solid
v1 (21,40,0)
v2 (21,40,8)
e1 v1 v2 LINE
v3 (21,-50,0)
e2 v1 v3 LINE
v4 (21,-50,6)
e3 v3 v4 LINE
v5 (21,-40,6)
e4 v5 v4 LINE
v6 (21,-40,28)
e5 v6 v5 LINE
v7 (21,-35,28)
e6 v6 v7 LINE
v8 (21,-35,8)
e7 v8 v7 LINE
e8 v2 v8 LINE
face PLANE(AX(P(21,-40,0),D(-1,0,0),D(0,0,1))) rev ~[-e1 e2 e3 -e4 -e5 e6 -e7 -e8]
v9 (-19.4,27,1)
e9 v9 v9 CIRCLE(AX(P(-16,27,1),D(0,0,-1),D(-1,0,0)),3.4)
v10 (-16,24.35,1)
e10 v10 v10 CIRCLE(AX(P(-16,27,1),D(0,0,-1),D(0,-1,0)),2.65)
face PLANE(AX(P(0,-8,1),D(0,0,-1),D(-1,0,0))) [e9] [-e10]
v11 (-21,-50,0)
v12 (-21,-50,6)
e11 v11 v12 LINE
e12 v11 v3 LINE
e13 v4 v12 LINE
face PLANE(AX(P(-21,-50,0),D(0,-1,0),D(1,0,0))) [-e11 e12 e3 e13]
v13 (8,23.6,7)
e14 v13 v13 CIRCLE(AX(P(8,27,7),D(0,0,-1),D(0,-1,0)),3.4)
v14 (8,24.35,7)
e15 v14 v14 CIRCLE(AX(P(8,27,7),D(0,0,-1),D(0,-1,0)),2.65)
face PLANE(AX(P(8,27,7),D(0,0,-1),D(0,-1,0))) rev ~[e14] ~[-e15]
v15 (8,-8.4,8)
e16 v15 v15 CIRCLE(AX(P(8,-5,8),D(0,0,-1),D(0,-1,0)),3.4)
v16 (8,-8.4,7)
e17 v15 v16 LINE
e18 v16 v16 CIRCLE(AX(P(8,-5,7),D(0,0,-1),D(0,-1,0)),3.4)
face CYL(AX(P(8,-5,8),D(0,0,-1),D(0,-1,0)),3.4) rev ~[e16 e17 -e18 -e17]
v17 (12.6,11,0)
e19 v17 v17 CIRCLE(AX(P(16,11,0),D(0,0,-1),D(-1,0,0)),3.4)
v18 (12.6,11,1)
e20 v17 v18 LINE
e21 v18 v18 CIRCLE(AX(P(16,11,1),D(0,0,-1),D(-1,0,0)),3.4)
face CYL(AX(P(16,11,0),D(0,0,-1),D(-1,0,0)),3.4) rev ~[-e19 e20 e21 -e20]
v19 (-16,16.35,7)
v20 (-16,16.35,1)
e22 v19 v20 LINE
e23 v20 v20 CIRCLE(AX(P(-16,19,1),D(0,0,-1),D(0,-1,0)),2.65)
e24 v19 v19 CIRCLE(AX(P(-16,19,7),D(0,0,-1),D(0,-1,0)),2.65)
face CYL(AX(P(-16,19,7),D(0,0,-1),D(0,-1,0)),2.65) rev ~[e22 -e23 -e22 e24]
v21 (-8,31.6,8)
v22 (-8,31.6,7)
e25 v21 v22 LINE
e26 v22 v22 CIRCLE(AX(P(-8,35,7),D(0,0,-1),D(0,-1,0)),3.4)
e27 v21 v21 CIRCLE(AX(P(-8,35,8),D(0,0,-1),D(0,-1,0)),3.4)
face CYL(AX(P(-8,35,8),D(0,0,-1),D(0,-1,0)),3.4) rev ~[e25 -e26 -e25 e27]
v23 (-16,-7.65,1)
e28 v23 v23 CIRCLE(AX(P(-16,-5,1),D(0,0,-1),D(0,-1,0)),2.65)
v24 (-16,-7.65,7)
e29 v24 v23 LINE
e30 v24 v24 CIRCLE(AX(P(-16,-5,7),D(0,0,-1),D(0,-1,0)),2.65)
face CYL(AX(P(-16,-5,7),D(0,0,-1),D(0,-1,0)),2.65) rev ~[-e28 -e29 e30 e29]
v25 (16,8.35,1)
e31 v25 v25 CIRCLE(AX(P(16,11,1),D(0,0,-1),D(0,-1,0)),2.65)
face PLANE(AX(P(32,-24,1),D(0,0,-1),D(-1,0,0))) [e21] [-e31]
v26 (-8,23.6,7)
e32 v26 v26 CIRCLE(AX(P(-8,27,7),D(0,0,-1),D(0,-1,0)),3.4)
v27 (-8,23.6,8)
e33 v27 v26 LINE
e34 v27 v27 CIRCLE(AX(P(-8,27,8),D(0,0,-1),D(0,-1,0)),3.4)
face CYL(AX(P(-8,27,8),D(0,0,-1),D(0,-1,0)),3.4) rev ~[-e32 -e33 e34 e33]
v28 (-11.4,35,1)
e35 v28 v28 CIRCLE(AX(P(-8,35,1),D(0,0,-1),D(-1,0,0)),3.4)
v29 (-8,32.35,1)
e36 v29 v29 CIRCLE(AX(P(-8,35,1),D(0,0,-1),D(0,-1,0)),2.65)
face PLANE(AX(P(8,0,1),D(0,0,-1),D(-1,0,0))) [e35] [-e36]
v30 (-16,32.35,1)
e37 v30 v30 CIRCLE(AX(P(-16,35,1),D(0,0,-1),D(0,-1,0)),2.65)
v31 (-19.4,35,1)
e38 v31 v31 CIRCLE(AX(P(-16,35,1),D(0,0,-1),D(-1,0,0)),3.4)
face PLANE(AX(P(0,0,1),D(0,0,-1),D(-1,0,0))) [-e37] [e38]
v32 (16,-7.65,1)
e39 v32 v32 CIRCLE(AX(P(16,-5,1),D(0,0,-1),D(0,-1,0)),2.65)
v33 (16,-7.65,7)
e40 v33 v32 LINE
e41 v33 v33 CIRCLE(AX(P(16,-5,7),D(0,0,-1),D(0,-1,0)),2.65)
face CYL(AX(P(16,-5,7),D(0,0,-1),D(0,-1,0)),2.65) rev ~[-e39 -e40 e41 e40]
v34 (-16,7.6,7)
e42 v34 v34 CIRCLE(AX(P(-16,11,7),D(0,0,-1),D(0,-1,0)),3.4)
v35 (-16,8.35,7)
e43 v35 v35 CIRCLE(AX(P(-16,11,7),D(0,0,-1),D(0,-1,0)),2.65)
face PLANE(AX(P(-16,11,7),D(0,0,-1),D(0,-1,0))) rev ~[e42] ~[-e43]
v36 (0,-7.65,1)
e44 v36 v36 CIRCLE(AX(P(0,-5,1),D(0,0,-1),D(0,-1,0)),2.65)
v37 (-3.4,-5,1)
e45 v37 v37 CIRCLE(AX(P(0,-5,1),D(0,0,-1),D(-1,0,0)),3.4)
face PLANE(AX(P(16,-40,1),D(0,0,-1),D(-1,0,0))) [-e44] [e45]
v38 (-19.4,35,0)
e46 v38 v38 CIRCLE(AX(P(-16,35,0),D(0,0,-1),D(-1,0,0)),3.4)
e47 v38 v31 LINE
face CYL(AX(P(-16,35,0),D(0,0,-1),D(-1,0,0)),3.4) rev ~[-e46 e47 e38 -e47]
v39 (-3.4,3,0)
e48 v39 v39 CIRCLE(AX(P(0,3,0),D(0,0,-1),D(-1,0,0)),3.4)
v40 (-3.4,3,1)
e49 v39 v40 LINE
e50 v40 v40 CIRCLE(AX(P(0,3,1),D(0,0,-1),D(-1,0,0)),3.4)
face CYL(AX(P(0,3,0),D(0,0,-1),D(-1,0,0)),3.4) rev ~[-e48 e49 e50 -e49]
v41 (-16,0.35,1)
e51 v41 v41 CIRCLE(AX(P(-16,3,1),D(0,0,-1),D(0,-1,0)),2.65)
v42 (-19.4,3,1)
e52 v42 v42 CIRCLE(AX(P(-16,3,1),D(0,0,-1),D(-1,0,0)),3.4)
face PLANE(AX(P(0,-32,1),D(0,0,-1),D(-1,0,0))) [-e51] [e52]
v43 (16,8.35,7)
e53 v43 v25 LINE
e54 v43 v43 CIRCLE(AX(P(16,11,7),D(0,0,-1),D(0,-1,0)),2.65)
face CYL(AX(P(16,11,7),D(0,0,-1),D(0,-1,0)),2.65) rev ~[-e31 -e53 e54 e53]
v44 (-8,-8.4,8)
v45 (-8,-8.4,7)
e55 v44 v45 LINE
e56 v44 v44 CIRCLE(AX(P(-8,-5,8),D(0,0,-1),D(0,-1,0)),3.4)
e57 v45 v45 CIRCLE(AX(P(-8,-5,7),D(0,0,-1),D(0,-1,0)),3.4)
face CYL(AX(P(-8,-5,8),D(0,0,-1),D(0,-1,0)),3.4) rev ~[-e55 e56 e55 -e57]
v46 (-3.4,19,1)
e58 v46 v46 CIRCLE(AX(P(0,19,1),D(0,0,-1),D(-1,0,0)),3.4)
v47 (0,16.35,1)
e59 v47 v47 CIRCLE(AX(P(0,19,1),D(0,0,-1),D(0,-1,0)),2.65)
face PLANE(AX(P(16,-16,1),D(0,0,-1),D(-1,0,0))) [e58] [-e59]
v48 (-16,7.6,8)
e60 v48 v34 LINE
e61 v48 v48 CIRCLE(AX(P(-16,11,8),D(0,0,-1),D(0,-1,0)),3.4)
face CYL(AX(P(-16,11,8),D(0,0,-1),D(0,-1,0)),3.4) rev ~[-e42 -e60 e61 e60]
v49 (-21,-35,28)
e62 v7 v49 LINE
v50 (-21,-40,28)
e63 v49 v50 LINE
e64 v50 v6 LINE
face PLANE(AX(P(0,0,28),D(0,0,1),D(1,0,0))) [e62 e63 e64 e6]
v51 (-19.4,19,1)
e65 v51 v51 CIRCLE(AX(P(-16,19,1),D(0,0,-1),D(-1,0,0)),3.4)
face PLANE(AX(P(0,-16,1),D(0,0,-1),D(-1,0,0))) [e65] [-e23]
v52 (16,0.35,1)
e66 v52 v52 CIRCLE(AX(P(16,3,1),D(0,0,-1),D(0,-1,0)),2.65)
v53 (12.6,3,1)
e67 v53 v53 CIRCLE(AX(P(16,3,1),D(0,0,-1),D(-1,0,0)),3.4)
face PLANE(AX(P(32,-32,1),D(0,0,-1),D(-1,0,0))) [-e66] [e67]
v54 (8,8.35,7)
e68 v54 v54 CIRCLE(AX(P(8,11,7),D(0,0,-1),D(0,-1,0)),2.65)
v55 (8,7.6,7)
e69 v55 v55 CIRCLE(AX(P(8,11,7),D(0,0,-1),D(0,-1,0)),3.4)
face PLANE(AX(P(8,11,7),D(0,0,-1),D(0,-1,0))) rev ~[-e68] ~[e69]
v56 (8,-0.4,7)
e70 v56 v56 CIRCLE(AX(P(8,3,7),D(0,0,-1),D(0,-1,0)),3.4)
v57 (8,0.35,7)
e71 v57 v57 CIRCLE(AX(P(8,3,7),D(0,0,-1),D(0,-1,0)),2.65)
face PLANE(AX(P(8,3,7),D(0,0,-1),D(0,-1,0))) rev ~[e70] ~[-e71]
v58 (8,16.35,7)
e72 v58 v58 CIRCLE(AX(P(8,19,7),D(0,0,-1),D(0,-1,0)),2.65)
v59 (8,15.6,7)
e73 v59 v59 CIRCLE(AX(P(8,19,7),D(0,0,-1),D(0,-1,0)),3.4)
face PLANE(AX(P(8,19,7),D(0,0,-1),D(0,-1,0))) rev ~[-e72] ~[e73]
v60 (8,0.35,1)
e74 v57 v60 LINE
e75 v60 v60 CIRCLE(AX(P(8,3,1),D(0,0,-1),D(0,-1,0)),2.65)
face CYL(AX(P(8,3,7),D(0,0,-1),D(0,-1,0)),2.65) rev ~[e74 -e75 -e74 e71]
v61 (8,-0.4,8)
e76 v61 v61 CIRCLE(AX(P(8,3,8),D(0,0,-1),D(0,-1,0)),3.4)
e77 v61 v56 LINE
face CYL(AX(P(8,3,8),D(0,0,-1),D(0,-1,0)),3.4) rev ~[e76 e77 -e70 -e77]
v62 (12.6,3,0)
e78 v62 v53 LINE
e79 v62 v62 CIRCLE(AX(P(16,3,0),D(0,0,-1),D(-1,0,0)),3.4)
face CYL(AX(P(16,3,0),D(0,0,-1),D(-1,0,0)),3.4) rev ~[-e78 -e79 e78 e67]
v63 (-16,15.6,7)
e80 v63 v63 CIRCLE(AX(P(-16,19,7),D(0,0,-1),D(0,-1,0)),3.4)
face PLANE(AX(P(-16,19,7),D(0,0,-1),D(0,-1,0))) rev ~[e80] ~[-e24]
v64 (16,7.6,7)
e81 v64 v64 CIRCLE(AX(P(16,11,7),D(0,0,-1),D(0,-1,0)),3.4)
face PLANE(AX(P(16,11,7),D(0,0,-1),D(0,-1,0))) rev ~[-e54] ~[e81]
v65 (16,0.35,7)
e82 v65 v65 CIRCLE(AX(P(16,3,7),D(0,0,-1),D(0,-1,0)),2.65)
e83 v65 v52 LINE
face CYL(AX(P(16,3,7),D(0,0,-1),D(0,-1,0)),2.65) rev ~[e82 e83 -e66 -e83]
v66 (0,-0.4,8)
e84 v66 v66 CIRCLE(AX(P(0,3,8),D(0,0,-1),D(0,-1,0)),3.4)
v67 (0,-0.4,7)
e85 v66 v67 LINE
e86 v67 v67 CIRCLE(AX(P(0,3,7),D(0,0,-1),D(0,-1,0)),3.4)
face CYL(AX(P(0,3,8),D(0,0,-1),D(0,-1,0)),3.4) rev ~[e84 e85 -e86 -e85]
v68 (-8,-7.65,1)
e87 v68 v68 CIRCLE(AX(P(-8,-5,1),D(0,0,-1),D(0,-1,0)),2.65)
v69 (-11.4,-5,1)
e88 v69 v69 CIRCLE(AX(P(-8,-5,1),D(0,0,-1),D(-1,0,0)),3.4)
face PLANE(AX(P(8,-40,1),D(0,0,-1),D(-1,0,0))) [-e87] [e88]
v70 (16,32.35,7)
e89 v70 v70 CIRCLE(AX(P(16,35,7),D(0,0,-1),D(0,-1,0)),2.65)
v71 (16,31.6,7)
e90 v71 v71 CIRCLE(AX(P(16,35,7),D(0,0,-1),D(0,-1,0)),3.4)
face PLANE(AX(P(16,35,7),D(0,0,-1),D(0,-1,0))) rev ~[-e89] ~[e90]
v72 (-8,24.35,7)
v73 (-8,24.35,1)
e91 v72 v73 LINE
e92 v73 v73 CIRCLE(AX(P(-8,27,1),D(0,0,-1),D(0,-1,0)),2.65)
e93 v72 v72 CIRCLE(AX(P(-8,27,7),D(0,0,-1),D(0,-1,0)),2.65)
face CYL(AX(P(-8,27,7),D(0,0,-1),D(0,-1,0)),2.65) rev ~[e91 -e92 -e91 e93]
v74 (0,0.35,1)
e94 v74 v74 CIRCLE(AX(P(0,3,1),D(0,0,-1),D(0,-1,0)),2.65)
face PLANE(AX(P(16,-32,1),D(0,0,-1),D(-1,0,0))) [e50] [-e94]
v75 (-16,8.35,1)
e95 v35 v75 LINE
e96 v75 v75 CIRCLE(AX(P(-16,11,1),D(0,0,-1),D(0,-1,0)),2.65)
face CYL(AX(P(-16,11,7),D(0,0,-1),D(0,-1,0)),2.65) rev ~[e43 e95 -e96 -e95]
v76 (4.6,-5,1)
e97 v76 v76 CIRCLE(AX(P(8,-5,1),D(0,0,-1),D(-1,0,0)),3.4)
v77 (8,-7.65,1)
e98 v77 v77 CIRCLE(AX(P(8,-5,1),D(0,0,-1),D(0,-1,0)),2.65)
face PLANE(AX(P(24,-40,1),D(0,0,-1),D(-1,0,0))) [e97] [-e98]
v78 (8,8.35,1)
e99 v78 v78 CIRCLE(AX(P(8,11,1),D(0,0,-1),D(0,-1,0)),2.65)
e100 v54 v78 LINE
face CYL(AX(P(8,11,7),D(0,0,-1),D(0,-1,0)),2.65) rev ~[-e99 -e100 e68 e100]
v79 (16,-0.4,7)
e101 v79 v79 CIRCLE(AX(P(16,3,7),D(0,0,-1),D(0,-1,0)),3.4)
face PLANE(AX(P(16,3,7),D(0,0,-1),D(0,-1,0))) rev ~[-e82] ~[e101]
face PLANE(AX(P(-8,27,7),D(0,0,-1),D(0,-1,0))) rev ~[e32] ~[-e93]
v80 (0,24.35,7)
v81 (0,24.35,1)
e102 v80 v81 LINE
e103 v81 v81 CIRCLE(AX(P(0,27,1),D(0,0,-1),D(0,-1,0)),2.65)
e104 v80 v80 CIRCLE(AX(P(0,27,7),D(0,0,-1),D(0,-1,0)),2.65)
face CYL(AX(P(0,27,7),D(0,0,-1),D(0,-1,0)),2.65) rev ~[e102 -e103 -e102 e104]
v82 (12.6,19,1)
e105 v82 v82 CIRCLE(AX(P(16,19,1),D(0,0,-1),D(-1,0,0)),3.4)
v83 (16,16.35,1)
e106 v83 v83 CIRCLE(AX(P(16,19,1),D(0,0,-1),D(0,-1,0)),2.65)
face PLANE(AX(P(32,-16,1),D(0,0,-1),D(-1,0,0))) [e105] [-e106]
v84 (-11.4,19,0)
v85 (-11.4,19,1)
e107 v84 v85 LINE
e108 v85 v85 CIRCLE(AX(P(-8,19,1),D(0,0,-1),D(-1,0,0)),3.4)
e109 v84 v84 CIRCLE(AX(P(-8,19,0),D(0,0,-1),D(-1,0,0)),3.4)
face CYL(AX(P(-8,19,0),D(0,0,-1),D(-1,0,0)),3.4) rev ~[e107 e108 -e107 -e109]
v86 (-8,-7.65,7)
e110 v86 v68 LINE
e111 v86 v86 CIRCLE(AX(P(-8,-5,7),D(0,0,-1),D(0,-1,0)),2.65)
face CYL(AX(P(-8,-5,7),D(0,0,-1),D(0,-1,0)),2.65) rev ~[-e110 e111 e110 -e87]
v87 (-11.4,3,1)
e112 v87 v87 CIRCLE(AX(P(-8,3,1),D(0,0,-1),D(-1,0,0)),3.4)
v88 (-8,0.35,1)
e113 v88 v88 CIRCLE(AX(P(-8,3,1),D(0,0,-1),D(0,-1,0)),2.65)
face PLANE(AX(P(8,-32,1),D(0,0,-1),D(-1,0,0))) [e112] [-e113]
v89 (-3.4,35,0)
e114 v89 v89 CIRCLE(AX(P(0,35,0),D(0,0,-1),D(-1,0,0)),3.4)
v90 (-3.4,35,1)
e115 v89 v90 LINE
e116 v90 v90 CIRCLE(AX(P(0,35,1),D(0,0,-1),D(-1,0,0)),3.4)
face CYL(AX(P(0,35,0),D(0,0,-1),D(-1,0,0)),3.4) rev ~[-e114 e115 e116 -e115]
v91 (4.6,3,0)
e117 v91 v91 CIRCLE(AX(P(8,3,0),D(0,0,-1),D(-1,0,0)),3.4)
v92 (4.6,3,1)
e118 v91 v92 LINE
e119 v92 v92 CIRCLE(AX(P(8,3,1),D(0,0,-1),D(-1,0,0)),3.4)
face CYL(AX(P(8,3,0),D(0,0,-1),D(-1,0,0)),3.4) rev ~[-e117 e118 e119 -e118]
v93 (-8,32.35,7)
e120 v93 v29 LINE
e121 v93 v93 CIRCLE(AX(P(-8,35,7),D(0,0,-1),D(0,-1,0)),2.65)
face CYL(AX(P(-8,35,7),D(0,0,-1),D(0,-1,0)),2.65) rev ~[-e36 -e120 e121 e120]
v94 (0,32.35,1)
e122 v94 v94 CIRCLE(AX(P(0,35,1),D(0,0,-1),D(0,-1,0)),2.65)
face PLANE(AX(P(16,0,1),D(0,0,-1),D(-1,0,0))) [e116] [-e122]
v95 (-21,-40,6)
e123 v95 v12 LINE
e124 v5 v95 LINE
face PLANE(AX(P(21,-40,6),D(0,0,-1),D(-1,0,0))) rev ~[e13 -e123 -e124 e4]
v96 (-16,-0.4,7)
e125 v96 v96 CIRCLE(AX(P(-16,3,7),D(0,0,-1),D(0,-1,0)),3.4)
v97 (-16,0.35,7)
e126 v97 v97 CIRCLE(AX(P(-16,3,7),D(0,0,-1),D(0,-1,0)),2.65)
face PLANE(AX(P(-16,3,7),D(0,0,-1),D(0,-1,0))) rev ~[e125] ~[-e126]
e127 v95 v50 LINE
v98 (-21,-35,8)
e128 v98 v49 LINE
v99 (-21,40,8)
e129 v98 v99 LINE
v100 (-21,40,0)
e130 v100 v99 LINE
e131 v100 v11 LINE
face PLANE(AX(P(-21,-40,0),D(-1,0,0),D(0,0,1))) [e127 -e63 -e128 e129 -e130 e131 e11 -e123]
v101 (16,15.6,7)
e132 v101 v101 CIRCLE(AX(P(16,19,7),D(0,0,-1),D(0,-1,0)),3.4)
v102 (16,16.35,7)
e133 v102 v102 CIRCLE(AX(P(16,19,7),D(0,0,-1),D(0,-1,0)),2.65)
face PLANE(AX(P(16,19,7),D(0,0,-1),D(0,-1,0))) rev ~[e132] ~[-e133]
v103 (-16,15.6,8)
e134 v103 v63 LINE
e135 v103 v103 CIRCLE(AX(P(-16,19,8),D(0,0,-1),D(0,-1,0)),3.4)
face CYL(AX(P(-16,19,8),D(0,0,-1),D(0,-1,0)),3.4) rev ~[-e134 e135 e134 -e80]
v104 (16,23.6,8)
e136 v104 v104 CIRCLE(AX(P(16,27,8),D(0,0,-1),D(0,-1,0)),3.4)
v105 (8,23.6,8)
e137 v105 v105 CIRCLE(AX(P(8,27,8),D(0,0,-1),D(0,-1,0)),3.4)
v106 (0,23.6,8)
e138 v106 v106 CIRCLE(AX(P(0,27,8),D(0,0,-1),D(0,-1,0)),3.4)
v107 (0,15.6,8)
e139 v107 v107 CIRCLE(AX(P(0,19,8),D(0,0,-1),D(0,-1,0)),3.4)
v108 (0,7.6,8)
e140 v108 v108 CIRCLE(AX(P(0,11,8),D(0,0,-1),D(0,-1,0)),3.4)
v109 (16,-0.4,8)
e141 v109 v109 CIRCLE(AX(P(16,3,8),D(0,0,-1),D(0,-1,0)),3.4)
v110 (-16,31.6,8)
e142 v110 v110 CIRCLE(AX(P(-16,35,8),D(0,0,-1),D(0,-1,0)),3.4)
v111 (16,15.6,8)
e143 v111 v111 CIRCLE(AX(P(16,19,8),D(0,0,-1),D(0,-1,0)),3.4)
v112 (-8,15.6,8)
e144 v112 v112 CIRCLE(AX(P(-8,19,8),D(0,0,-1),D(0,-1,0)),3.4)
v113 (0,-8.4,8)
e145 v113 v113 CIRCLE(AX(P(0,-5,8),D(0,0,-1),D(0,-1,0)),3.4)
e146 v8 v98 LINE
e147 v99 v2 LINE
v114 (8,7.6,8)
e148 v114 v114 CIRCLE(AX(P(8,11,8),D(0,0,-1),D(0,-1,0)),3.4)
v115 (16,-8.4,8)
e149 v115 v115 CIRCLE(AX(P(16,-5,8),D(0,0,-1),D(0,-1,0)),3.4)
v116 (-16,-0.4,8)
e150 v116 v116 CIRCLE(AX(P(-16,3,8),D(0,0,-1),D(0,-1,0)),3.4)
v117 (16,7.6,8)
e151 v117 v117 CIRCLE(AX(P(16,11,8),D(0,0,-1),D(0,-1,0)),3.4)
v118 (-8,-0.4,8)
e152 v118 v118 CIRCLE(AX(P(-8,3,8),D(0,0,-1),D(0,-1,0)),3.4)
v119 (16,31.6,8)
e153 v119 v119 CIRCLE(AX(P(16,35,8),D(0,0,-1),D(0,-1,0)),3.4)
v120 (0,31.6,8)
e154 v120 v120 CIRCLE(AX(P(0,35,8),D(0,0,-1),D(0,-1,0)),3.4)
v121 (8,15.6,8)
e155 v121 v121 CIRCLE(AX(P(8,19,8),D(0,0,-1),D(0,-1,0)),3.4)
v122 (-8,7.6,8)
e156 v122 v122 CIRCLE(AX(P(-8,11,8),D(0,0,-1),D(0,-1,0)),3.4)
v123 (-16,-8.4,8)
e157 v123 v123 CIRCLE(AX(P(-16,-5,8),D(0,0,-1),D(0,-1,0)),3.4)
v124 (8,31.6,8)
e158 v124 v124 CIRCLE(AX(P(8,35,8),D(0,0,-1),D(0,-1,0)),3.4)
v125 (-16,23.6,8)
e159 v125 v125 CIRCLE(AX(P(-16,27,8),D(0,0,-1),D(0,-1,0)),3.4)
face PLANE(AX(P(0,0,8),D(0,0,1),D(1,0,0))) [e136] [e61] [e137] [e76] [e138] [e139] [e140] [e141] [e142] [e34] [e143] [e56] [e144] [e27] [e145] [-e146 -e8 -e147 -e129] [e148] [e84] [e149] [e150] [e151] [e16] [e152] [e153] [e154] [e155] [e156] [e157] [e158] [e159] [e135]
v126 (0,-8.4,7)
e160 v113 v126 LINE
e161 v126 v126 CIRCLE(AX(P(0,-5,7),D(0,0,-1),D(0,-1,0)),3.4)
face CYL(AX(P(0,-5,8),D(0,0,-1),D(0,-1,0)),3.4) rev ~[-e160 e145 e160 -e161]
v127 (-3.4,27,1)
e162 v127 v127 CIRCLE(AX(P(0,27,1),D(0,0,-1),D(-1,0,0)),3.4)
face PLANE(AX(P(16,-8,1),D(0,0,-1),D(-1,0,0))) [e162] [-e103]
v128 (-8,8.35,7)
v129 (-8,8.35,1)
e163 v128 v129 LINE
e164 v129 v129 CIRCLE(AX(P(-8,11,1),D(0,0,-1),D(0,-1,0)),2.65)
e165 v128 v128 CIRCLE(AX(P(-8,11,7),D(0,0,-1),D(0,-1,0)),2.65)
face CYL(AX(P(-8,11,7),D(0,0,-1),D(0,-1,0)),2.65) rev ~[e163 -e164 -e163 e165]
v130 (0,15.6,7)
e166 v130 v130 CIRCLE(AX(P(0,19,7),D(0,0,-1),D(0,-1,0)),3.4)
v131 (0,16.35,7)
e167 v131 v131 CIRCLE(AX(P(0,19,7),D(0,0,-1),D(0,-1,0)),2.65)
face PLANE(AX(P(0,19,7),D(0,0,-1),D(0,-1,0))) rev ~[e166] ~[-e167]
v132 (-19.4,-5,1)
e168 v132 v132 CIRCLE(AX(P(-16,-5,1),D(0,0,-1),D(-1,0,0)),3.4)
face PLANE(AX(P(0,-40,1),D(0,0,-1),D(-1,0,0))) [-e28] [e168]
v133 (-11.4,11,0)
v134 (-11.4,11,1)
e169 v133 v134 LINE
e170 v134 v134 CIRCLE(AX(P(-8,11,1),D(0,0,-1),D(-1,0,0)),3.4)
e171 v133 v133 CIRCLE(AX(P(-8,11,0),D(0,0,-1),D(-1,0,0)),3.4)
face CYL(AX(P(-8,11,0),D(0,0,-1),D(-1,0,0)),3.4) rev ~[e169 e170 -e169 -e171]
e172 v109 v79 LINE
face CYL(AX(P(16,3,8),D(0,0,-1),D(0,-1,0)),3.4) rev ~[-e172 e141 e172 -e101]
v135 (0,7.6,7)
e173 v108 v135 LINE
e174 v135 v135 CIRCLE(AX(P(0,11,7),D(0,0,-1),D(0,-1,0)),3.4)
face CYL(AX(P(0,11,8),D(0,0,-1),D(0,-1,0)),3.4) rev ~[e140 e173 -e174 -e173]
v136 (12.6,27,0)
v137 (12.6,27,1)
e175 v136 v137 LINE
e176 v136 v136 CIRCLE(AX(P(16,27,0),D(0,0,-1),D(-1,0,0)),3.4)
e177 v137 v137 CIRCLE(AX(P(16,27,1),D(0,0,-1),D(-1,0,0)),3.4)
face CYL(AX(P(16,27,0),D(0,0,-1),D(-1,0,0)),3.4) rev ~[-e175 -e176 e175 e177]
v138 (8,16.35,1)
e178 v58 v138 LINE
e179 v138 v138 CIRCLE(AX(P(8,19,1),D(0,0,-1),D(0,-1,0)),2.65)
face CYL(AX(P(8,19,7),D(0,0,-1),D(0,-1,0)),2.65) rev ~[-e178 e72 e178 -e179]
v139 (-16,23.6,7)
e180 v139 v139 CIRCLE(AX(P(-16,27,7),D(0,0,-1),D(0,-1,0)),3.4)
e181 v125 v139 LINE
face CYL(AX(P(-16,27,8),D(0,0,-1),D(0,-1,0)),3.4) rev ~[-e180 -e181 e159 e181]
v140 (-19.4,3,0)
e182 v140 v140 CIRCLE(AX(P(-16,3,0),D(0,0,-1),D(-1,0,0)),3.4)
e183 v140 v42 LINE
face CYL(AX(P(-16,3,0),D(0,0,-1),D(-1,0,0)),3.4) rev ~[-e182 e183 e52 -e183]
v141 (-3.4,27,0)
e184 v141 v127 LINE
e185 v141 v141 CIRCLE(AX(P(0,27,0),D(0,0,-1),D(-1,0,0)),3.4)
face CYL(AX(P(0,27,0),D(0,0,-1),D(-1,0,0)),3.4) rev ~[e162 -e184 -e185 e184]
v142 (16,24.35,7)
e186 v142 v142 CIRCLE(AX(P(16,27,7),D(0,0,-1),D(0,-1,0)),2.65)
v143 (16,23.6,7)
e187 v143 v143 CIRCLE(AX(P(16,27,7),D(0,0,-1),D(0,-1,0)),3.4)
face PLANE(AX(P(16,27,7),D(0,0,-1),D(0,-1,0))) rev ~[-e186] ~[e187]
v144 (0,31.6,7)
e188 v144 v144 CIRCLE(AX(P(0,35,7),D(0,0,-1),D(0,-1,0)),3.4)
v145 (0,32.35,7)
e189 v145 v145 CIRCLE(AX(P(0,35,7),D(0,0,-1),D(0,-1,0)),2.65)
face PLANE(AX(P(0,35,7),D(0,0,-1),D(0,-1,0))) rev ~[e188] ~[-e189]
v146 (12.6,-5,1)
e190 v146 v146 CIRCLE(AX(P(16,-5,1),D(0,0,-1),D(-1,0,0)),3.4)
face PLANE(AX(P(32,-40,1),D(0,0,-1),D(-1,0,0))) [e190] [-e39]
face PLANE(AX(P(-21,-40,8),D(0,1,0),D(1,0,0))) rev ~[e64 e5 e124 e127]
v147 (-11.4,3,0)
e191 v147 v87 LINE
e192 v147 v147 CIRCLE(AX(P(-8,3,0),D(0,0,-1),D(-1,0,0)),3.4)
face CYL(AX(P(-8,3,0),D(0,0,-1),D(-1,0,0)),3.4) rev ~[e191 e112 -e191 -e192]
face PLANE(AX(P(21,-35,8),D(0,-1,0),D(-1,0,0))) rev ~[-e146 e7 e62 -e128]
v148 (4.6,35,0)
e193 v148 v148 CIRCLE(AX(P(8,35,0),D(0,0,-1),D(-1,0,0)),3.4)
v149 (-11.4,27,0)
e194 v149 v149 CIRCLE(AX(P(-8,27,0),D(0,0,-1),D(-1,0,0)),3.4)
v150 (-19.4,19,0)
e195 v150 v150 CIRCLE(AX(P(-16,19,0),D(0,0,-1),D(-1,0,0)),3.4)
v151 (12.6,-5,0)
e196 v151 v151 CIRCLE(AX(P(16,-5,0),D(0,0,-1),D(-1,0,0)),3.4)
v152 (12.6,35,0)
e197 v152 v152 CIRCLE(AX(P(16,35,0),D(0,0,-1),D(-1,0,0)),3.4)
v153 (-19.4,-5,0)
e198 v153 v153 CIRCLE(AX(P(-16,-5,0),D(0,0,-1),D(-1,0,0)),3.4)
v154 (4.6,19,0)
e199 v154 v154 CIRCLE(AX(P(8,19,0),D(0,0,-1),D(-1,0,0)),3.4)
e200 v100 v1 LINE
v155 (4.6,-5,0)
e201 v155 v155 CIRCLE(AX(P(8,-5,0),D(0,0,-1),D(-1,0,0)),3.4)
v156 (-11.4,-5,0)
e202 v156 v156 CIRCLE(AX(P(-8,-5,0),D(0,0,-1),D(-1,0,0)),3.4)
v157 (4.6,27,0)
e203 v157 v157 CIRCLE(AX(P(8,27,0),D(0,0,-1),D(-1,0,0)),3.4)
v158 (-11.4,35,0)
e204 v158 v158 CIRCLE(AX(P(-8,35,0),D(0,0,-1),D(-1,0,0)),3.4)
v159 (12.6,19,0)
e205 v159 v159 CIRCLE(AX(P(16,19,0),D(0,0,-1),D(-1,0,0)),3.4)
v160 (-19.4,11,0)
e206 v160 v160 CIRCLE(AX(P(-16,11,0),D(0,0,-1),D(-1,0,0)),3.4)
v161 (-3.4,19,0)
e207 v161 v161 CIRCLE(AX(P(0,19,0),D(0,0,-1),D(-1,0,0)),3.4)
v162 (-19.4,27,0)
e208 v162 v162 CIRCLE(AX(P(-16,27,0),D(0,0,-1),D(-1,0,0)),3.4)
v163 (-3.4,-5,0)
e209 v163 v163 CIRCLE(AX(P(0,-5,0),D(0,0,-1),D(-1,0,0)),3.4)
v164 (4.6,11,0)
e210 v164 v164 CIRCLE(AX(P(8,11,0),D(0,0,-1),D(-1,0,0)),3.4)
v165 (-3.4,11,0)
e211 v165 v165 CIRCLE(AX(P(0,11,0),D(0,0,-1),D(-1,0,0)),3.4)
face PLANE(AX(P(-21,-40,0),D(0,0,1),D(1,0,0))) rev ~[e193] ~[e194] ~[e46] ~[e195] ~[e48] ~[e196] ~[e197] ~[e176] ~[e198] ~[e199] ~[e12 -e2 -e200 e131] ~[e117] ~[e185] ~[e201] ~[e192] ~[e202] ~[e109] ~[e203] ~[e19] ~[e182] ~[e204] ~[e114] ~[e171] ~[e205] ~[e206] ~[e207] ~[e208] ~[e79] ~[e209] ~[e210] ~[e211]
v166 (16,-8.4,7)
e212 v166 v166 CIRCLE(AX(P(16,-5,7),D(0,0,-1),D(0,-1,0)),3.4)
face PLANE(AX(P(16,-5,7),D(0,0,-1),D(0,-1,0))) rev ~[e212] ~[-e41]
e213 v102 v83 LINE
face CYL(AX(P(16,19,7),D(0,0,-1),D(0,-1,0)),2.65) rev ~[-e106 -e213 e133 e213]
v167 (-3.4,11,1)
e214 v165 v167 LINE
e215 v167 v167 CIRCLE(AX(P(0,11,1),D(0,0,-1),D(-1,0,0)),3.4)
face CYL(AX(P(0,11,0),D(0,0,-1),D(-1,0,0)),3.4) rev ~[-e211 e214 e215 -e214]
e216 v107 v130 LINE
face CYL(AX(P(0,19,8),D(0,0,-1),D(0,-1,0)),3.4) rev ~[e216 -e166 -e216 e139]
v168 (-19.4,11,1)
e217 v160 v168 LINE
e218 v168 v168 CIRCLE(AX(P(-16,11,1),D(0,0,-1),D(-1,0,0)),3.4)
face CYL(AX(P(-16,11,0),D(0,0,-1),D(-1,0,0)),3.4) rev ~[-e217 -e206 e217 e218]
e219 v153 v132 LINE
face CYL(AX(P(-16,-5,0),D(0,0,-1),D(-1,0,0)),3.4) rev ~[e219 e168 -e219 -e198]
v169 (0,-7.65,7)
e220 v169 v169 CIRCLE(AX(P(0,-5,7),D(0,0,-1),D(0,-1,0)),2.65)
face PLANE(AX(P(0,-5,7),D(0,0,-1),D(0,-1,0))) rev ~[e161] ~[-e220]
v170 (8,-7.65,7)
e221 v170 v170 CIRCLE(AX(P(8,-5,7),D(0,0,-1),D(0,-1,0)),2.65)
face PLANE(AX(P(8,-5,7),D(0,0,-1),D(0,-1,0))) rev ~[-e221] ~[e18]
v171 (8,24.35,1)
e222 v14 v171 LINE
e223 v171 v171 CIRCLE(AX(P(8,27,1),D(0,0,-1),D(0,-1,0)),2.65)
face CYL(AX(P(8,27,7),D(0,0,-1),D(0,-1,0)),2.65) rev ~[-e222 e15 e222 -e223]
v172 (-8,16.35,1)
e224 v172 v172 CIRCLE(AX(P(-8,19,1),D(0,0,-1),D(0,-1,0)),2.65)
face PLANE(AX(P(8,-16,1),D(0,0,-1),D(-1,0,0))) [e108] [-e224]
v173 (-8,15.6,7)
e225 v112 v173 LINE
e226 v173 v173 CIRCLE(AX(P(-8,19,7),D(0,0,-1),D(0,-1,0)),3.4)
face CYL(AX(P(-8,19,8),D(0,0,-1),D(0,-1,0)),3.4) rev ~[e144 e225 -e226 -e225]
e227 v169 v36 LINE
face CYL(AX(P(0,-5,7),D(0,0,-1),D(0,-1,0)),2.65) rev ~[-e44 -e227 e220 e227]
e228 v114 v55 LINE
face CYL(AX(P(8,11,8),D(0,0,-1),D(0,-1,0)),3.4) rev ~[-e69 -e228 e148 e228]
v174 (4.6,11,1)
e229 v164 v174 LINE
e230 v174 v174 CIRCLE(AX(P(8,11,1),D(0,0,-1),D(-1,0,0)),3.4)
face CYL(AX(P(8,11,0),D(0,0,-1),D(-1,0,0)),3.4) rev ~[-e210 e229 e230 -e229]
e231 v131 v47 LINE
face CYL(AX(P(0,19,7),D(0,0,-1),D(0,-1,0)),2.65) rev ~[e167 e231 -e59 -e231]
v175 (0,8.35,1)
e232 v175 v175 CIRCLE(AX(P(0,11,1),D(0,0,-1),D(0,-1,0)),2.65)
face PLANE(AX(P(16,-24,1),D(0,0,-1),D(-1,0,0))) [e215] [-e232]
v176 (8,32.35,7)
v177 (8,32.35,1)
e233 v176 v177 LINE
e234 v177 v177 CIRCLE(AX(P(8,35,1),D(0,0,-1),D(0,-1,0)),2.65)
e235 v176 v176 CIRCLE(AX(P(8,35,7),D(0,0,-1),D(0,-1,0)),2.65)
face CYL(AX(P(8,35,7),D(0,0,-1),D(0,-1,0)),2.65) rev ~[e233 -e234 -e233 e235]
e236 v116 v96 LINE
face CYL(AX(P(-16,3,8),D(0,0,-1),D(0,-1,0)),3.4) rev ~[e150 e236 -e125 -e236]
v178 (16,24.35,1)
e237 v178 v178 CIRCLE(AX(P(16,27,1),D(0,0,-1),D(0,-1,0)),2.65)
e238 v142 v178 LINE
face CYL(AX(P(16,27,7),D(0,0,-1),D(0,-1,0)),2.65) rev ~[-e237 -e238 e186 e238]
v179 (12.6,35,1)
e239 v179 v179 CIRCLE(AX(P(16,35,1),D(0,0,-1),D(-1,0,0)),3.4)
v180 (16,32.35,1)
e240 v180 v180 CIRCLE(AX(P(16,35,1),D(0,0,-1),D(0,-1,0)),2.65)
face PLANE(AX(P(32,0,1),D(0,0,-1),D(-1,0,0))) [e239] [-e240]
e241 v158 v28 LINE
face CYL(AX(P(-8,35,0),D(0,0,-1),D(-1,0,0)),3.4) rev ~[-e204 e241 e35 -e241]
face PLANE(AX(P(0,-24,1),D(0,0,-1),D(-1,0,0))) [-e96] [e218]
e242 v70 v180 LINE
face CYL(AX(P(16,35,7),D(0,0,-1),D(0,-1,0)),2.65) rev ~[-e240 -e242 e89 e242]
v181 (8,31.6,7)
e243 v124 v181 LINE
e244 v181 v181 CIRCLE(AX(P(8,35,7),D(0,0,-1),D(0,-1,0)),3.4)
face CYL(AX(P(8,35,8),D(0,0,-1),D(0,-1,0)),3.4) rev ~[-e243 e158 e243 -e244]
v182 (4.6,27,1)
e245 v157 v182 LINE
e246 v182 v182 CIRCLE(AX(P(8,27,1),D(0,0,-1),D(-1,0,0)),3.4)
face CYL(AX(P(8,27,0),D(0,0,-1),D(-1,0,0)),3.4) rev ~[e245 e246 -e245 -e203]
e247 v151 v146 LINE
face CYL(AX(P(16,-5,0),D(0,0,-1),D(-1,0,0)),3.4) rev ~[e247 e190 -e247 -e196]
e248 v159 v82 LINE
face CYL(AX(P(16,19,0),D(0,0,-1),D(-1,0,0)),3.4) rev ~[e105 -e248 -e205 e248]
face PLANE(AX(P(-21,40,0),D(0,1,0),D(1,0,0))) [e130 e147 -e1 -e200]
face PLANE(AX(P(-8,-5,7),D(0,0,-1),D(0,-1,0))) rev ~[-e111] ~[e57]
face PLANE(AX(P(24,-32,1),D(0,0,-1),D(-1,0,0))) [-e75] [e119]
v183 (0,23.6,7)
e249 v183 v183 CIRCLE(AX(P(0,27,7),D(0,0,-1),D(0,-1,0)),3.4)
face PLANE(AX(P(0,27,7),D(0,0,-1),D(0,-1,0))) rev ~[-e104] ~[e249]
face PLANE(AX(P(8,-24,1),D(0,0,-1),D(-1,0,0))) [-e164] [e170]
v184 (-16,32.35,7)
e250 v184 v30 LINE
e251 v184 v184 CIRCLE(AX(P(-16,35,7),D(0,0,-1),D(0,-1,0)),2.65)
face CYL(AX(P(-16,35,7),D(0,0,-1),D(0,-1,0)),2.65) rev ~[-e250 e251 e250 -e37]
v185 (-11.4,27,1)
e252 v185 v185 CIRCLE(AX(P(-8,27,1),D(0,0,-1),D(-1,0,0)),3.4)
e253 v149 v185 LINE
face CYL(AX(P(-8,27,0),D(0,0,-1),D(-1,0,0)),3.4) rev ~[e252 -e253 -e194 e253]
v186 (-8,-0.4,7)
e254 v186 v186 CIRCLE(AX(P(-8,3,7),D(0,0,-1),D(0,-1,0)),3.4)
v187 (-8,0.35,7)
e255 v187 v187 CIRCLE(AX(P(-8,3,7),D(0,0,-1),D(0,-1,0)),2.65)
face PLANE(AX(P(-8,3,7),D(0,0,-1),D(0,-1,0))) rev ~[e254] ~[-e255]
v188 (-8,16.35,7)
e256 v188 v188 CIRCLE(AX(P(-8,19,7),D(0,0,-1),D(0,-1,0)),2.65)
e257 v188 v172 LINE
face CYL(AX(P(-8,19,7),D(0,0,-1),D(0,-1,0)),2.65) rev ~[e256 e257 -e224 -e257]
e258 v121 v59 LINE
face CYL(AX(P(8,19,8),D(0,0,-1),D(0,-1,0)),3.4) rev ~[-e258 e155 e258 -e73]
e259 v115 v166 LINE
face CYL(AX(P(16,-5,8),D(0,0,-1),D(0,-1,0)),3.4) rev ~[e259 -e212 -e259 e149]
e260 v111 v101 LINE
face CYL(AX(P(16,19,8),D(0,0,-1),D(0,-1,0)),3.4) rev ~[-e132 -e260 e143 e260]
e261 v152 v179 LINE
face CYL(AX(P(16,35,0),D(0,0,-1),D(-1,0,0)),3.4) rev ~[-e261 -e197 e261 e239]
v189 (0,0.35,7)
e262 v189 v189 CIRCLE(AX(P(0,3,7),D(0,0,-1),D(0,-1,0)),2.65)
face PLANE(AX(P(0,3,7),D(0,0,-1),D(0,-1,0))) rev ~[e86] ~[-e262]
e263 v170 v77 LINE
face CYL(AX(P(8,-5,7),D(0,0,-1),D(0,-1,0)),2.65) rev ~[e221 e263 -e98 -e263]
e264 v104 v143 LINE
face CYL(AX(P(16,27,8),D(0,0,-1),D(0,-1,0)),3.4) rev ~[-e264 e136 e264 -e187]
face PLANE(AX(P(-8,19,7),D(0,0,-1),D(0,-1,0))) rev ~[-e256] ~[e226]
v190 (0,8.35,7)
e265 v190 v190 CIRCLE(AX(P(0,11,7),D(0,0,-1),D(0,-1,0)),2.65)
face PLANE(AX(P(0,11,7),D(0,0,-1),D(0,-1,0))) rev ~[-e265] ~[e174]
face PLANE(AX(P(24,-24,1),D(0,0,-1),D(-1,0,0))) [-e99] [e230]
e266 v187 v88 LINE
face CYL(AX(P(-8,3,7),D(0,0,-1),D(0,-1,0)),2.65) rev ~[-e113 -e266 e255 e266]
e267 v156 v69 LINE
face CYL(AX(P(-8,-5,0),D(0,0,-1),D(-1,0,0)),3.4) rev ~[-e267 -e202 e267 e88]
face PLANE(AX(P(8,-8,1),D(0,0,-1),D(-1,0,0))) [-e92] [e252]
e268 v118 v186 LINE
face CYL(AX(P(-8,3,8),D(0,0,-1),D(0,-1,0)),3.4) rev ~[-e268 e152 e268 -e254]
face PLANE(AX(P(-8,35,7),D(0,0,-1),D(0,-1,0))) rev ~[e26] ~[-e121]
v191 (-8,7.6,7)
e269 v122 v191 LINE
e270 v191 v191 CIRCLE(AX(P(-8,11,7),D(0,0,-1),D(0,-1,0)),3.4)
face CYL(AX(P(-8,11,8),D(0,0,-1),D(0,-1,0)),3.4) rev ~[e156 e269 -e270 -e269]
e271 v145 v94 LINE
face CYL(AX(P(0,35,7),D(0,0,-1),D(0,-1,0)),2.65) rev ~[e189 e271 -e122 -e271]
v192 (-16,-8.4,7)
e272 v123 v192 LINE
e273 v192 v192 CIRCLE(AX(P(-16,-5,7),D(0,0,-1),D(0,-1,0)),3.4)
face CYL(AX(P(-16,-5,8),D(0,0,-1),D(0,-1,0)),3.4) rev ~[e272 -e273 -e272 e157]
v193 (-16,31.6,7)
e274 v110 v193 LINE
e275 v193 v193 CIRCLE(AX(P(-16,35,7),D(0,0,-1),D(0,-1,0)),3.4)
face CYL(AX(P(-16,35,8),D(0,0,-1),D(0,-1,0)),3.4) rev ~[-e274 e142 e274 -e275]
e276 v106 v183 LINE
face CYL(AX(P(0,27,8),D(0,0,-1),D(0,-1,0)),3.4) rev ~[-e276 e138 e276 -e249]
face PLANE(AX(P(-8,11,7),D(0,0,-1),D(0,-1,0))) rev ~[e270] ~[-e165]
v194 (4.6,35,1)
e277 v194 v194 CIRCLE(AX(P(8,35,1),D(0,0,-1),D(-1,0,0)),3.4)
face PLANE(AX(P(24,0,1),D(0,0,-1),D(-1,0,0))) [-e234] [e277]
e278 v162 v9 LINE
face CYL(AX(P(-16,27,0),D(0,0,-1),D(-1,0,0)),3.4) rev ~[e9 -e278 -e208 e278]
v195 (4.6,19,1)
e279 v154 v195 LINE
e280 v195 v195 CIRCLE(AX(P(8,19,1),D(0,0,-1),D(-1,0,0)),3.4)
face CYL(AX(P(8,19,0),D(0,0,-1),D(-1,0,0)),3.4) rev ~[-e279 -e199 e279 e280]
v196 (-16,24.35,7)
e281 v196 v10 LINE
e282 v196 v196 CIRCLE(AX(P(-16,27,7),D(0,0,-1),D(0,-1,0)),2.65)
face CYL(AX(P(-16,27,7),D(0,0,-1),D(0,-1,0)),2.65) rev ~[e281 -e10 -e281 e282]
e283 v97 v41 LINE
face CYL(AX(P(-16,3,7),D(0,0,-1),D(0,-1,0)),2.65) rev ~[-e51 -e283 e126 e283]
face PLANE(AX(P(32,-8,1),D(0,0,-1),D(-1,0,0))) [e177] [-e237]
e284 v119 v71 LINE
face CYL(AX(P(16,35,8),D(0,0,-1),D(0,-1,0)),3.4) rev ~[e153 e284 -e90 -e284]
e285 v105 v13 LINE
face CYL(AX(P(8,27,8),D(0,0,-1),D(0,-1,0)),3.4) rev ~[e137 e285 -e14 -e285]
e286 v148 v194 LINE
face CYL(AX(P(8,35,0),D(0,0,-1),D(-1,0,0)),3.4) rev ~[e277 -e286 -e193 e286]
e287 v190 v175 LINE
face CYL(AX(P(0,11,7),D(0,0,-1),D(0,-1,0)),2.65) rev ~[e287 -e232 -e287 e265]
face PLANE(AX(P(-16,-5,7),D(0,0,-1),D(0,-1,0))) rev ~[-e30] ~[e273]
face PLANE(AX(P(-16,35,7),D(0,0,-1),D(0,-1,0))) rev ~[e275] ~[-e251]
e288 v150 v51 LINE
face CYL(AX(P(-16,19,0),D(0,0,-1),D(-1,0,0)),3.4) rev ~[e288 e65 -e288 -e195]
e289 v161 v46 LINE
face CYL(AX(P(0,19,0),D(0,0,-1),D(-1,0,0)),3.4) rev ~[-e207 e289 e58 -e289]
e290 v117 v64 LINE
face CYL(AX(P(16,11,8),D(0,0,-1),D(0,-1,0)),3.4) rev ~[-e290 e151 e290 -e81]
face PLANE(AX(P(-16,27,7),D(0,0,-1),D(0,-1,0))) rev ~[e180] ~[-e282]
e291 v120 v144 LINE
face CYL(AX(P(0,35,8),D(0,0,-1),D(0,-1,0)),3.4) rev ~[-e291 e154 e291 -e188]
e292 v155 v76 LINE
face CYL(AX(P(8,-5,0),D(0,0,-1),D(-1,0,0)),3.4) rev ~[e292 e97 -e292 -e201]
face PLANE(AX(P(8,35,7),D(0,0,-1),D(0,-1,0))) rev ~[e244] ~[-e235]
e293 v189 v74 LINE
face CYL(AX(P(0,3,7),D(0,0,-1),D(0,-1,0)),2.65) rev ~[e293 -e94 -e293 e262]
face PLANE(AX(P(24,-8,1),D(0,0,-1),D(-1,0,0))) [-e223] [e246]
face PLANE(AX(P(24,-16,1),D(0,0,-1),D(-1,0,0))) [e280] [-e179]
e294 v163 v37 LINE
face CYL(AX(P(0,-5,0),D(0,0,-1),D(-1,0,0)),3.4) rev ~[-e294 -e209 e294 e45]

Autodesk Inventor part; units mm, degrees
ref_plane "YZ Plane" through (0, 0, 0) normal (1, 0, 0) x (0, 1, 0)
ref_plane "XZ Plane" through (0, 0, 0) normal (0, 1, 0) x (-1, 0, 0)
ref_plane "XY Plane" through (0, 0, 0) normal (0, 0, 1) x (1, 0, 0)
sketch "Sketch1" plane through (0, 0, 0) normal (0, 0, 1) x (1, 0, 0)
  line L0 (21, -40) -> (-21, -40)
  line L1 (-21, -40) -> (-21, 40)
  line L2 (-21, 40) -> (21, 40)
  line L3 (21, 40) -> (21, -40)
  line L4 (21, -40) -> (-21, 40) construction
  line L5 (-21, -40) -> (21, 40) construction
  point P0 (0, 0)
  dimension "d0" = 42
  dimension "d1" = 80
extrude "Extrusion1" add sketch "Sketch1" along normal blind 8
sketch "Sketch2" plane through (0, 0, 8) normal (0, 0, 1) x (1, 0, 0)
  line L0 (-21, 40) -> (-21, -40) projected
  line L1 (21, 40) -> (-21, 40) projected
  point P0 (0, 0)
  point P1 (-16, 35)
  dimension "d4" = 5
  dimension "d5" = 5
hole "Hole1" at (-16, 35, 8) direction (0, 0, -1) diameter 5.3 end through all counterbore diameter 6.8 counterbore depth 1
pattern_linear "Rectangular Pattern1" count 6 spacing 8 along (0, -1, 0) count 5 spacing 8 along (1, 0, 0) of "Hole1"
sketch "Sketch3" plane through (0, 0, 8) normal (0, 0, 1) x (1, 0, 0)
  line L0 (-21, 40) -> (-21, -40) projected
  line L1 (21, -40) -> (21, 40) projected
  line L2 (-21, -40) -> (21, -40)
  line L3 (21, -40) -> (21, -35)
  line L4 (21, -35) -> (-21, -35)
  line L5 (-21, -35) -> (-21, -40)
  point P0 (0, 0)
  dimension "d19" = 5
extrude "Extrusion2" add sketch "Sketch3" along normal blind 20
sketch "Sketch4" plane through (-21, -40, 0) normal (0, -1, 0) x (1, 0, 0)
  line L0 (0, 0) -> (0, 8) projected
  line L1 (42, 0) -> (42, 8) projected
  line L2 (0, 0) -> (42, 0)
  line L3 (42, 0) -> (42, 6)
  line L4 (42, 6) -> (0, 6)
  line L5 (0, 6) -> (0, 0)
  point P0 (21, 0)
  point P1 (0, 6)
  dimension "d22" = 6
extrude "Extrusion3" add sketch "Sketch4" along normal blind 10
fillet "Fillet1" [suppressed]
sketch "Sketch5" plane through (0, 0, 0) normal (0, 0, -1) x (-1, 0, 0)
  circle A0 centre (16, 35) radius 3.4 projected
  point P0 (0, 0)
extrude "Extrusion4" cut sketch "Sketch5" against normal blind 1
pattern_linear "Rectangular Pattern2" count 5 spacing 8 along (1, 0, 0) count 6 spacing 8 along (0, -1, 0) of "Extrusion4"
properties part number "derocana_deska"
